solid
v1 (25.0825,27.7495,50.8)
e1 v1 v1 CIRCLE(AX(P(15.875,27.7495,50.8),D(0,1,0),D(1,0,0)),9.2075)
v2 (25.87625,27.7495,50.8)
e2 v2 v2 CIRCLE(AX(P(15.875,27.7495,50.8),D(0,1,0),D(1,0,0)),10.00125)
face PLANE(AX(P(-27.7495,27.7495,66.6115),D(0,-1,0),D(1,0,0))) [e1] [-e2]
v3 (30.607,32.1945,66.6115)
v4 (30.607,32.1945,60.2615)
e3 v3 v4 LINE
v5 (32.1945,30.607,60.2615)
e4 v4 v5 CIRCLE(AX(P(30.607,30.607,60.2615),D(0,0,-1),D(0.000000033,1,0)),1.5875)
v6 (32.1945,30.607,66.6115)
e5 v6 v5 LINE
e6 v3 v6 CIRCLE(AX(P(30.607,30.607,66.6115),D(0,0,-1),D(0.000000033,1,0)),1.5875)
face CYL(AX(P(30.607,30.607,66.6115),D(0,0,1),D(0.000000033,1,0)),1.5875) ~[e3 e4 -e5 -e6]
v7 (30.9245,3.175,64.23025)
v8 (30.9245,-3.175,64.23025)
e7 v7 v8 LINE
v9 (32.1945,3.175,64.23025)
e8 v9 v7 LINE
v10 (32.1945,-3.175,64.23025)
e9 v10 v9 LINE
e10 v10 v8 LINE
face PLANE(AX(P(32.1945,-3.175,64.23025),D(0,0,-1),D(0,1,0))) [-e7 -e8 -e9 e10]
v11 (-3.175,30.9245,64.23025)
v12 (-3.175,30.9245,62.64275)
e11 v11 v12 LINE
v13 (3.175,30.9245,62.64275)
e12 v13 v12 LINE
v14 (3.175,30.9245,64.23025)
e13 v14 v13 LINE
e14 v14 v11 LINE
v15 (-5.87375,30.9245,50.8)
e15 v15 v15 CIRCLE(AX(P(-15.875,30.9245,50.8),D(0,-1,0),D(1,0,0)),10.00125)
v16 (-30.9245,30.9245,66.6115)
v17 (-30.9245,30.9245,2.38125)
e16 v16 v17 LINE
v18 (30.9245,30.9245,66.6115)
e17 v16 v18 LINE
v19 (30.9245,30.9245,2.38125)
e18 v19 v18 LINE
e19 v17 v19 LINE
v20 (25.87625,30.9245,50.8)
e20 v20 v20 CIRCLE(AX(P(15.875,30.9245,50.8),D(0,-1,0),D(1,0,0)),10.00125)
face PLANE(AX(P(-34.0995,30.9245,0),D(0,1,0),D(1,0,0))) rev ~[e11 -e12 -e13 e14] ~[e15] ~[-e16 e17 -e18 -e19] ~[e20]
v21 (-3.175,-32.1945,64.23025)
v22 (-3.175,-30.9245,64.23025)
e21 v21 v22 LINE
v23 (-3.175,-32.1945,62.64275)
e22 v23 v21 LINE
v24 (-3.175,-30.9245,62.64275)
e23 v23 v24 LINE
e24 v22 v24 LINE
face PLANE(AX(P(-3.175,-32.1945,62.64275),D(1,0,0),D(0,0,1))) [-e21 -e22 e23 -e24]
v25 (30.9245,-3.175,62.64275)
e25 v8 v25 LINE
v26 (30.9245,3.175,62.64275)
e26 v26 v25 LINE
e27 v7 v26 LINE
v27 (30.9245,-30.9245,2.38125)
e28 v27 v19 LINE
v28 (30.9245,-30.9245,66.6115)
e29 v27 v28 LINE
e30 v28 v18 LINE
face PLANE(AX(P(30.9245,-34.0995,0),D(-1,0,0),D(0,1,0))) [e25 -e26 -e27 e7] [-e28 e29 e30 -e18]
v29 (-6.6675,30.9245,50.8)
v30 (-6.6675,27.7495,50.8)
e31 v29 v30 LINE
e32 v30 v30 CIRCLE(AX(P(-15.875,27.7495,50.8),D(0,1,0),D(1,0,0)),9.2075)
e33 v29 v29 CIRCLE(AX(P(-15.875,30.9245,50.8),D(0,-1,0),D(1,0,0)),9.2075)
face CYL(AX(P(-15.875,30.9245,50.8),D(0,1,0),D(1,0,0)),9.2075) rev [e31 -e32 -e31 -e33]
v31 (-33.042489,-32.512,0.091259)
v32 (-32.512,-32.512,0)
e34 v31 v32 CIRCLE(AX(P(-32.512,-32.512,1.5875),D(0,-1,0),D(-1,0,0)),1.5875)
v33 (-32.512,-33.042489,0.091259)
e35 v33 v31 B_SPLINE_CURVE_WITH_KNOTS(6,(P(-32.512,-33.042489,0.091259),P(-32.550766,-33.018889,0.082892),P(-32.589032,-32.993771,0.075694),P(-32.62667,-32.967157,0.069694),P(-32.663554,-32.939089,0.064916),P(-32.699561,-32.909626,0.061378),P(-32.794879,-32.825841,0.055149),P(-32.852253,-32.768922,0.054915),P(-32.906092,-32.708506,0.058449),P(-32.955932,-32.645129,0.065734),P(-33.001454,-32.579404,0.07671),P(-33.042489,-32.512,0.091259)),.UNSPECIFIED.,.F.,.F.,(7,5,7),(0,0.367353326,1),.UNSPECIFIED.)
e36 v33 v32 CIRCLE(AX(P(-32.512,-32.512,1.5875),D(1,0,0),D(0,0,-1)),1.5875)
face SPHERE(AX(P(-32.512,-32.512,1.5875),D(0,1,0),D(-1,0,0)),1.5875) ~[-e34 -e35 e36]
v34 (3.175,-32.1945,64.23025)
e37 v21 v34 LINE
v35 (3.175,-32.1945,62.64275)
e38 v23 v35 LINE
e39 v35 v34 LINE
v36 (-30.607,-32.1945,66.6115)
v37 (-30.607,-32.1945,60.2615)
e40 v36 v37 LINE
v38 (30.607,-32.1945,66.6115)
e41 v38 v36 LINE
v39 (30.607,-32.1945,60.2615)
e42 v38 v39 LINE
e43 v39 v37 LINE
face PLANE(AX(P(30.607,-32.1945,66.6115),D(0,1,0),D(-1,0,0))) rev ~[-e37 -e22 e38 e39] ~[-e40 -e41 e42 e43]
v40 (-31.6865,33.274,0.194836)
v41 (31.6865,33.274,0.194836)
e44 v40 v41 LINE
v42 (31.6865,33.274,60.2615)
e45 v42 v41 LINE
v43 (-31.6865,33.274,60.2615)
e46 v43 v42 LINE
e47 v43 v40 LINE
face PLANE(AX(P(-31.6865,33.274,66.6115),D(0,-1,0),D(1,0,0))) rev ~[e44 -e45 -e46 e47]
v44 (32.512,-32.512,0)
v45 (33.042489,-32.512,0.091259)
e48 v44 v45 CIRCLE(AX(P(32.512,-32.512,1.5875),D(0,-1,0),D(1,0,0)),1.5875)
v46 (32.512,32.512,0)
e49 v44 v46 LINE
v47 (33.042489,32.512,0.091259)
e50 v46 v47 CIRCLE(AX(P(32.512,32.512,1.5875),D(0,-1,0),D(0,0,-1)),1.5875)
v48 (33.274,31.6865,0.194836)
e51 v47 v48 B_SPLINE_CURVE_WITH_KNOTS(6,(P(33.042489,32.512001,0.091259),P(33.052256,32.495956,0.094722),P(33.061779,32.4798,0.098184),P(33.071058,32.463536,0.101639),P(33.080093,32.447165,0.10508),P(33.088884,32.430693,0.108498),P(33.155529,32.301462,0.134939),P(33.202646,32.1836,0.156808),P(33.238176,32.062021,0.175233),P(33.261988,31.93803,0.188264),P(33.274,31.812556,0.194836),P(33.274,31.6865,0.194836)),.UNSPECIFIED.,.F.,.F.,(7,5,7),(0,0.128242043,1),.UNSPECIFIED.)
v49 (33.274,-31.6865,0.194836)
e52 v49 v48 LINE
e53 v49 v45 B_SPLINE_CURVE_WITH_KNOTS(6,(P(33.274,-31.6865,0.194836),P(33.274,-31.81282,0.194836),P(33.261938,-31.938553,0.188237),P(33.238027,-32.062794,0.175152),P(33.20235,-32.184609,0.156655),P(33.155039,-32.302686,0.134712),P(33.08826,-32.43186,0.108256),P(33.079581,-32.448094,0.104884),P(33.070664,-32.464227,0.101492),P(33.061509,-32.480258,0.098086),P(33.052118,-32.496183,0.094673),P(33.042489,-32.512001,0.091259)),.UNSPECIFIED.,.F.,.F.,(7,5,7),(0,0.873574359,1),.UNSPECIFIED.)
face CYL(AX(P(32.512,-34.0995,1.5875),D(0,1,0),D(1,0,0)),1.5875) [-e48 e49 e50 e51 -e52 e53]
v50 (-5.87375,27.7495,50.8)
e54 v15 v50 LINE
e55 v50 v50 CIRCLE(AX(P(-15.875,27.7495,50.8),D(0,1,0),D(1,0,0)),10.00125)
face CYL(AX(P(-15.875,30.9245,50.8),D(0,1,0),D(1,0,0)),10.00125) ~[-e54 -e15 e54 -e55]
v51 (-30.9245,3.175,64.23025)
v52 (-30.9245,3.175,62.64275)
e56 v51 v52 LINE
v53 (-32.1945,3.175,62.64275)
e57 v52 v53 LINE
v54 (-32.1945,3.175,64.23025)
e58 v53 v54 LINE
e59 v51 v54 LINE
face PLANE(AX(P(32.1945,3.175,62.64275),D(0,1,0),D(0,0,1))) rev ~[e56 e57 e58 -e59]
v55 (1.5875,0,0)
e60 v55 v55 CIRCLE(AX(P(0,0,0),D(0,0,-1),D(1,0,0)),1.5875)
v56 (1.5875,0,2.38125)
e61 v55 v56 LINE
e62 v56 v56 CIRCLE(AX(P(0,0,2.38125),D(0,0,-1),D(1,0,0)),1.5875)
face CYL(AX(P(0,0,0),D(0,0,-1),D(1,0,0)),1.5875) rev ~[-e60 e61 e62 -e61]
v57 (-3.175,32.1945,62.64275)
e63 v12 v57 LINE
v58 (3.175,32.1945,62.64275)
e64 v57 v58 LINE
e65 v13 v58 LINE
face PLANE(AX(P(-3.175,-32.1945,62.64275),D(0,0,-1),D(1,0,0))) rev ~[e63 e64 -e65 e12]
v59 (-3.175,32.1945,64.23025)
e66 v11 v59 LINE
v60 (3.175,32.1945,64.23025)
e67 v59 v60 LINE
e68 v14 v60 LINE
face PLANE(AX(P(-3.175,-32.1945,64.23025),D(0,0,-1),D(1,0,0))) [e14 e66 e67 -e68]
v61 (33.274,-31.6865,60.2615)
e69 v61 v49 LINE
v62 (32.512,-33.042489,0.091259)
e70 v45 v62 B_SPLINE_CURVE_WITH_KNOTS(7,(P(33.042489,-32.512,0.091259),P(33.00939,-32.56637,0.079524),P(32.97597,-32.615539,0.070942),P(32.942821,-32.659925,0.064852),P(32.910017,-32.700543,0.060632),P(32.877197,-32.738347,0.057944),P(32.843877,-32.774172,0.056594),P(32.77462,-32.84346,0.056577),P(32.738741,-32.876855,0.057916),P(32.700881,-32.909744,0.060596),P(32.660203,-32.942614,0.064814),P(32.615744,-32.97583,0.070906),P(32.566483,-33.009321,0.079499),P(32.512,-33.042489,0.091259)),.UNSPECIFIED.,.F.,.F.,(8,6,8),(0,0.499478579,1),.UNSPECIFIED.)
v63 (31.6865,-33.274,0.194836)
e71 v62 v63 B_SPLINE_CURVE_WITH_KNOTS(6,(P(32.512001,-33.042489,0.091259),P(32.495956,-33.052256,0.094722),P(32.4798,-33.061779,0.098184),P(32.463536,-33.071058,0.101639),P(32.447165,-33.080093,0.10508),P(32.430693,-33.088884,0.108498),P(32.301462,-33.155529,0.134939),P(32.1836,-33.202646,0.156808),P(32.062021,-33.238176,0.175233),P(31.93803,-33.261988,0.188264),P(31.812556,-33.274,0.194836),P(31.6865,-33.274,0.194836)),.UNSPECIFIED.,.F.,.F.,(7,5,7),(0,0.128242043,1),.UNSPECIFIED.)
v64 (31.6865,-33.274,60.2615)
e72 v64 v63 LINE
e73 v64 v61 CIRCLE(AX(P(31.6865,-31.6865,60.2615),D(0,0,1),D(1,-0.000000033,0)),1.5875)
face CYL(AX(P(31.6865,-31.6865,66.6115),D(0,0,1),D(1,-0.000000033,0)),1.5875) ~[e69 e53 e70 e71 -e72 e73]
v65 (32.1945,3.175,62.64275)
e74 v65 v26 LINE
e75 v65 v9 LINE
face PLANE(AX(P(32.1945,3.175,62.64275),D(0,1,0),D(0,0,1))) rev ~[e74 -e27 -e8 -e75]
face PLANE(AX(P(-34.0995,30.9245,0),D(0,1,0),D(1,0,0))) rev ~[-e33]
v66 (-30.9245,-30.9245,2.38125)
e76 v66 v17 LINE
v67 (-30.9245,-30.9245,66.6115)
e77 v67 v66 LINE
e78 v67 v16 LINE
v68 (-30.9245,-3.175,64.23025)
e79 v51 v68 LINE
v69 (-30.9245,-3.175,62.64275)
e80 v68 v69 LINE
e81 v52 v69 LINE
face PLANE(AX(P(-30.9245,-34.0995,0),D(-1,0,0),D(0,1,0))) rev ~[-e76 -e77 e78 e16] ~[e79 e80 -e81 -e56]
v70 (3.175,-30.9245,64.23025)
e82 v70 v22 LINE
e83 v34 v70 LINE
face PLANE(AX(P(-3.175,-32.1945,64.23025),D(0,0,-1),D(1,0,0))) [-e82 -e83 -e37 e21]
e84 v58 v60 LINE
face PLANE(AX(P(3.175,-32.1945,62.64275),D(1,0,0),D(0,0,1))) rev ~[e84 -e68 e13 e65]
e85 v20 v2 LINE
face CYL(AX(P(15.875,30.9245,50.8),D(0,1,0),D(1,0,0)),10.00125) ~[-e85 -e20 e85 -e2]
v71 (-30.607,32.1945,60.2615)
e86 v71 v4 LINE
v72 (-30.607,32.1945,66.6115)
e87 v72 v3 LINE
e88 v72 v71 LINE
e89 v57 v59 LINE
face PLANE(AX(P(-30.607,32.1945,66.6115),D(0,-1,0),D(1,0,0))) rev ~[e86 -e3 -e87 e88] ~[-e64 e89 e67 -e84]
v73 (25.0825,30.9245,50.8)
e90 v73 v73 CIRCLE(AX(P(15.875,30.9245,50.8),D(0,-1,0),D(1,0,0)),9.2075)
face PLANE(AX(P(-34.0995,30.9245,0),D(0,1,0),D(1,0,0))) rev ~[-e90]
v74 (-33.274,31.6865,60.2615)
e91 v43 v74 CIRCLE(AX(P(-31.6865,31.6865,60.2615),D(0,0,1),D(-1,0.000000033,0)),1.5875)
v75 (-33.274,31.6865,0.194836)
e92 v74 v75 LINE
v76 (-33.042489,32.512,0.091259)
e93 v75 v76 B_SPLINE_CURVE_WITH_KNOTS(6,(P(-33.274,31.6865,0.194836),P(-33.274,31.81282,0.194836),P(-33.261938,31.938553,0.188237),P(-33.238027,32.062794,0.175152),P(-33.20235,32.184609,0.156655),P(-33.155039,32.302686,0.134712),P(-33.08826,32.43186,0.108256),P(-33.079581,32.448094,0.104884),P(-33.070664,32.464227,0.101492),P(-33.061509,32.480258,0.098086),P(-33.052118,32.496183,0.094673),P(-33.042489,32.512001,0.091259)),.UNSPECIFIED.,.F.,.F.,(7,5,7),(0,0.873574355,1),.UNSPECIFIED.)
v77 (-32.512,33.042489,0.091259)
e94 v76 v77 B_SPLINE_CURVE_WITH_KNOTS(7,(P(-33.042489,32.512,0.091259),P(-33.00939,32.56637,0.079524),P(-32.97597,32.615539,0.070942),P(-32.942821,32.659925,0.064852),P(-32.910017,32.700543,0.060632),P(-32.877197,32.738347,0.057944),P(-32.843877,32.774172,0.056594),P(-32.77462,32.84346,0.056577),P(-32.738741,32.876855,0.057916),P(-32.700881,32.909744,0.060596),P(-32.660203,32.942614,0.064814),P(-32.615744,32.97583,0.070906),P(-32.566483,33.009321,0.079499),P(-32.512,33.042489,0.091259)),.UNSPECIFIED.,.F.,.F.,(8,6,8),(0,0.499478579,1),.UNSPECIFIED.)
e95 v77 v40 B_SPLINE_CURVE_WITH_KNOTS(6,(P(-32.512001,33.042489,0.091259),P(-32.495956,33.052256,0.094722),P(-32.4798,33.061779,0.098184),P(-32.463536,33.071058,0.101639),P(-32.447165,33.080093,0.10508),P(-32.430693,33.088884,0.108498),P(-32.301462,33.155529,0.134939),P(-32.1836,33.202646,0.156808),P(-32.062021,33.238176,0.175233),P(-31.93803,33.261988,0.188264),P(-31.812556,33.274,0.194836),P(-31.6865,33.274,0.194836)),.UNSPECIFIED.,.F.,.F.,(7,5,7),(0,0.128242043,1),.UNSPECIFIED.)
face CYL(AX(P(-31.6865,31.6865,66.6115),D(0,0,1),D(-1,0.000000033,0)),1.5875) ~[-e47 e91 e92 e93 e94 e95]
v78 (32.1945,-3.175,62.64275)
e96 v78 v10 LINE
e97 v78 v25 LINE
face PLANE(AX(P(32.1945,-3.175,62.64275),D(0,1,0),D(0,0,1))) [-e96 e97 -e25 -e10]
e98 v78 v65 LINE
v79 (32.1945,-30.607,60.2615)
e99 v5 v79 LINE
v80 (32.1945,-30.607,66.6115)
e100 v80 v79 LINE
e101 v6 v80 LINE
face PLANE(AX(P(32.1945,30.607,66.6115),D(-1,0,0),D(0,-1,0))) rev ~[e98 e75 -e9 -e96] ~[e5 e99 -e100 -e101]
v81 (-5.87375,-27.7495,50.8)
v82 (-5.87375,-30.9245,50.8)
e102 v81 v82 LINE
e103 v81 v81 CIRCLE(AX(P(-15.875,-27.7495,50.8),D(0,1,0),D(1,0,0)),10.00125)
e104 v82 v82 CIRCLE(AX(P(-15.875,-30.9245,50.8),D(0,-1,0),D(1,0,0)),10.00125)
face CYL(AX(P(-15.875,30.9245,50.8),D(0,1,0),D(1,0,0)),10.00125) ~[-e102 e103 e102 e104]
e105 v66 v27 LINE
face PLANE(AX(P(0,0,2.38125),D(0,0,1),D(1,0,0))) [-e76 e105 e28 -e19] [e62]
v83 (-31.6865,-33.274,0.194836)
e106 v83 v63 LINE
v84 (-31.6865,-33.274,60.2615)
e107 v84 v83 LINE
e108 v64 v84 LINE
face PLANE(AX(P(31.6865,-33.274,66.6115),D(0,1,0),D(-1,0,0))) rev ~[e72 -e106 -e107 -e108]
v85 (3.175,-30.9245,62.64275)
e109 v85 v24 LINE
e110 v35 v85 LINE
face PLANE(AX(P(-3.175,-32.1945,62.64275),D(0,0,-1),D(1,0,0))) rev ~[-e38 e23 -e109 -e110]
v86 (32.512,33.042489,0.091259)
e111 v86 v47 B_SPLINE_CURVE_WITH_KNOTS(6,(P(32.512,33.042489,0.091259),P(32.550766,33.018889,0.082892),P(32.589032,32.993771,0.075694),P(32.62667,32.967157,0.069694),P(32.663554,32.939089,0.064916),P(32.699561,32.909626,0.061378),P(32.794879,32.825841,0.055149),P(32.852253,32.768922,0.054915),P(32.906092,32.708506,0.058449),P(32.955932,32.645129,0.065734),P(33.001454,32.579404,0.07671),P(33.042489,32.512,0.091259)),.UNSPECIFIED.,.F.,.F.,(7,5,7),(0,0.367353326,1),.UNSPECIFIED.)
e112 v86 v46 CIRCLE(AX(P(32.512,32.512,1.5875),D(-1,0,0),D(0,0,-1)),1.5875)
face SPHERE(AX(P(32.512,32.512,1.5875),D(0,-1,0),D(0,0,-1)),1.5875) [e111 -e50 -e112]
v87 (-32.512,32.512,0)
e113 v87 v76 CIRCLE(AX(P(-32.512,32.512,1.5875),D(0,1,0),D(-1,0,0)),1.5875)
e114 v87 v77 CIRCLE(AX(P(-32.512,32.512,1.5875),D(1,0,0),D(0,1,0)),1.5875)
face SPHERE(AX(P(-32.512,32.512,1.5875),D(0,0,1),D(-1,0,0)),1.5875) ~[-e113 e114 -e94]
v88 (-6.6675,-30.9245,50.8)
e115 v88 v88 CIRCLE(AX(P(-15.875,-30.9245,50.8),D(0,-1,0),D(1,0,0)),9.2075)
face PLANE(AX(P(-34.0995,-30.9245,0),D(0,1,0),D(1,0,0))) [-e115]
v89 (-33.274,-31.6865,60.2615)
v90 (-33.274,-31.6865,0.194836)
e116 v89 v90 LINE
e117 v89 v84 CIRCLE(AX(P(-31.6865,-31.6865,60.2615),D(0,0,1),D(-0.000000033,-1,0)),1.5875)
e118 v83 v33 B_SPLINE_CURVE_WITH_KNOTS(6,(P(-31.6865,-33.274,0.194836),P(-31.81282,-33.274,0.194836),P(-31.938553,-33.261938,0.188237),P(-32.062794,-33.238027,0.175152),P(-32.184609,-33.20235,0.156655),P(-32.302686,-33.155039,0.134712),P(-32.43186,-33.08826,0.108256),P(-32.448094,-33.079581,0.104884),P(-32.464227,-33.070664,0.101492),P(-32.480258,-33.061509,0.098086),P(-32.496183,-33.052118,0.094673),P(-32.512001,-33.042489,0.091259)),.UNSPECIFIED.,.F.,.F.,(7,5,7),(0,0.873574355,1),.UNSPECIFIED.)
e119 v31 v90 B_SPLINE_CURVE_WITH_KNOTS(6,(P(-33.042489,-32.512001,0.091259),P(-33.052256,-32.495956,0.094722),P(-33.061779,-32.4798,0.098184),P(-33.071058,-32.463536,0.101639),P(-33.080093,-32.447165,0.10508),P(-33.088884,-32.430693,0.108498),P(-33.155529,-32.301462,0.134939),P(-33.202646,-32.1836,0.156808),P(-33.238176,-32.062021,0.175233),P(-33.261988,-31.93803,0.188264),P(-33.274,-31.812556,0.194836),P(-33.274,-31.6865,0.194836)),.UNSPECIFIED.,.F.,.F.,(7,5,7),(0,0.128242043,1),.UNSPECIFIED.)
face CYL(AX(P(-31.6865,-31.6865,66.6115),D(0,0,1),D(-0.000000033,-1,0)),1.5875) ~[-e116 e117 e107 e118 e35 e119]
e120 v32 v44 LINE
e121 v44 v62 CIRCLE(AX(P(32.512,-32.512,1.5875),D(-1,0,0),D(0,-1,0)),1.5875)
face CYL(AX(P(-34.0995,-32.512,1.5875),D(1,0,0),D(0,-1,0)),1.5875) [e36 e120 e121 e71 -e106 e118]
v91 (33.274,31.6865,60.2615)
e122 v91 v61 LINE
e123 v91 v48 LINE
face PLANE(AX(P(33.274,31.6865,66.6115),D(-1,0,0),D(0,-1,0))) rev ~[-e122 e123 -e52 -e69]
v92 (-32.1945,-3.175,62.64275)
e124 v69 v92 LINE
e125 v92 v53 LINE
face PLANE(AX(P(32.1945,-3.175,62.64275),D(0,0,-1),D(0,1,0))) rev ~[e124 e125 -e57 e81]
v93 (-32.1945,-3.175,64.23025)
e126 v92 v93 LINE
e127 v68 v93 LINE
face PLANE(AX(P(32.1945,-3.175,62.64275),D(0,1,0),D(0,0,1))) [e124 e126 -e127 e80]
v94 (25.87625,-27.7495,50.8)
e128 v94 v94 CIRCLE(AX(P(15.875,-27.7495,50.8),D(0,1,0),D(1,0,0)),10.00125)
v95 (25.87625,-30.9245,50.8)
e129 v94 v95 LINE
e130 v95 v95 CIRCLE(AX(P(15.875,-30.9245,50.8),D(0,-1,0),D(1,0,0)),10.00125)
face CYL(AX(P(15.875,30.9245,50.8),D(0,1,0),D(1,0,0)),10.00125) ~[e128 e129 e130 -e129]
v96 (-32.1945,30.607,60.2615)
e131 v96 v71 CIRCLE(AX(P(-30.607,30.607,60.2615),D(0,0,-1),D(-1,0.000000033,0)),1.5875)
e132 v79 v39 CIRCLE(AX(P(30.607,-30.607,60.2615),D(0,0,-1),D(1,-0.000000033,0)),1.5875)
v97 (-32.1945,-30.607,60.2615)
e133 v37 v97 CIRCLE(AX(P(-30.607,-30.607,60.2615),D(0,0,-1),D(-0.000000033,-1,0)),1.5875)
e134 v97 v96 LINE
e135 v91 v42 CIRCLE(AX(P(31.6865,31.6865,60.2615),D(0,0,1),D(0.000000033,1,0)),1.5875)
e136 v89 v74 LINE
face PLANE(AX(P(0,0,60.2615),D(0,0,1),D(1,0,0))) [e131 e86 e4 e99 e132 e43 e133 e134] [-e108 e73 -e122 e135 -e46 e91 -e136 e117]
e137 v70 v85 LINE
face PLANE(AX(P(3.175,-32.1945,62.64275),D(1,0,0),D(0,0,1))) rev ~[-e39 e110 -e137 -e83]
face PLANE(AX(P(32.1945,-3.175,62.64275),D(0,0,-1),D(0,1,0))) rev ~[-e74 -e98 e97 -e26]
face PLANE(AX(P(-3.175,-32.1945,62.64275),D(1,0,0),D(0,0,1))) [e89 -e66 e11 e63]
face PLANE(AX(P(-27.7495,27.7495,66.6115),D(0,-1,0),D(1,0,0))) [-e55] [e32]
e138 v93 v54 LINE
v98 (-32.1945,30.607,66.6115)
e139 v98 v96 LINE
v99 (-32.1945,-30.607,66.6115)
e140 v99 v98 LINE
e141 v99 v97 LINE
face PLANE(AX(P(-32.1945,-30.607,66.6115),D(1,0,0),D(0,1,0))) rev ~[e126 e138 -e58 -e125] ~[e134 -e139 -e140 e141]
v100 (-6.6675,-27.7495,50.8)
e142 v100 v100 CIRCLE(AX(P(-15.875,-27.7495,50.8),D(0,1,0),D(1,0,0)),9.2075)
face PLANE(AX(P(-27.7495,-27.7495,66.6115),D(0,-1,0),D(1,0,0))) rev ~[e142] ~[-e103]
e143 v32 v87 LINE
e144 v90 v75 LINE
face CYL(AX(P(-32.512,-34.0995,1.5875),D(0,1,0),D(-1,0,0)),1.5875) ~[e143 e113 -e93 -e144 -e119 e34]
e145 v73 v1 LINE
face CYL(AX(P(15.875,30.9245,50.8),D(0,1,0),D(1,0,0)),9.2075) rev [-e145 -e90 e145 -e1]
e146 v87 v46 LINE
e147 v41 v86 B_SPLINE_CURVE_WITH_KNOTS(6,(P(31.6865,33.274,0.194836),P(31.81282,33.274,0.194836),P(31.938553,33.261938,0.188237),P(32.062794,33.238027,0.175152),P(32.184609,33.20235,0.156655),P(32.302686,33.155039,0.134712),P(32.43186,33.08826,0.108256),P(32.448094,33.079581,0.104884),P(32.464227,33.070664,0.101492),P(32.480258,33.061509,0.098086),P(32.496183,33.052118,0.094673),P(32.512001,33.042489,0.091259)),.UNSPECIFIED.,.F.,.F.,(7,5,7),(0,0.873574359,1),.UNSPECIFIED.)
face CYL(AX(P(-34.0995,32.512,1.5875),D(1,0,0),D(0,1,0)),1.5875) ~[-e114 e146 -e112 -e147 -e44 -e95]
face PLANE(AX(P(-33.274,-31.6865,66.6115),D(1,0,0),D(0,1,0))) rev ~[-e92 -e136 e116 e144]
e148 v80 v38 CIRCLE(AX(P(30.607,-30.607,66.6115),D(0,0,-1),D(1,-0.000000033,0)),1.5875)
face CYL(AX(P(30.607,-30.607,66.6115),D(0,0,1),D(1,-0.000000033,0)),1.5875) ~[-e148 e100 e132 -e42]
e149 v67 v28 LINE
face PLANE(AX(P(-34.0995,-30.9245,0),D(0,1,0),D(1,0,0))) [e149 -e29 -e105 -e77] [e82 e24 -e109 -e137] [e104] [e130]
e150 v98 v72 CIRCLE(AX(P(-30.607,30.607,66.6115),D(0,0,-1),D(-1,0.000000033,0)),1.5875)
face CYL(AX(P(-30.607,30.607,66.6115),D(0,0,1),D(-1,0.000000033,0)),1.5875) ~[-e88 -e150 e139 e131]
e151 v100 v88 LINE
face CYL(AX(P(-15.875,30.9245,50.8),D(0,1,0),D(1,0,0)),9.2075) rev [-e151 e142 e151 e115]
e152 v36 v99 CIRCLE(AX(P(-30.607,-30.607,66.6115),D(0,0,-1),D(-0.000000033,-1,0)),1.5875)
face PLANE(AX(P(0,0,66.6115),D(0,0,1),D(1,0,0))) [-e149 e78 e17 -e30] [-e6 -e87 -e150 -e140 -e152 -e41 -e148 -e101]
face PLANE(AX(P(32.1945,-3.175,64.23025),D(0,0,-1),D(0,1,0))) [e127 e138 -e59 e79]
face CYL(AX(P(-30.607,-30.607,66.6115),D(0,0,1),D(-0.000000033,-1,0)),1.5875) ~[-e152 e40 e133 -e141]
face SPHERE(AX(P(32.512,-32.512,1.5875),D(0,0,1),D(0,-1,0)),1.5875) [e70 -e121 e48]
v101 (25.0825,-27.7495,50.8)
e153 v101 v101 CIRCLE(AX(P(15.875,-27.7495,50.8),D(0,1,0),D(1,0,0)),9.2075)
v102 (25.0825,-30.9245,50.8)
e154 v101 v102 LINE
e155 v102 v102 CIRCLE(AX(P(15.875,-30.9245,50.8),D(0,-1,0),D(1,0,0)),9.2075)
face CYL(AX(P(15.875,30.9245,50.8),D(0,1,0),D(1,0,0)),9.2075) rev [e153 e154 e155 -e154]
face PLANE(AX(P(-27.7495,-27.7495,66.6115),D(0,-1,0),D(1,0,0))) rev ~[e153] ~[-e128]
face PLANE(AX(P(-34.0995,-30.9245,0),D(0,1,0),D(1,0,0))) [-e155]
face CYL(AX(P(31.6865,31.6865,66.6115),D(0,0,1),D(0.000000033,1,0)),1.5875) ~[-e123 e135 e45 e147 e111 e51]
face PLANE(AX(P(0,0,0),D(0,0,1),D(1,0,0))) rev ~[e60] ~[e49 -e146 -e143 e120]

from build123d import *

# Parameters (mm, degrees)
F0_W      = 68.199
F0_H      = 68.199
F1_DEPTH  = 66.6115
F2_R      = 1.5875
F3_T      = -3.175
F4_W      = 3.175
F4_H      = 3.175
F4_W_2    = 6.35
F4_H_2    = 6.35
F5_DEPTH  = 25.4
F6_R      = 1.5875
F7_DEPTH  = 6.35
F8_W      = 74.20966
F8_H      = 75.78341
F9_DEPTH  = 6.35
F10_W     = 6.35
F10_H     = 1.5875
F11_DEPTH = 66.295
F12_W     = 6.35
F12_H     = 1.5875
F13_DEPTH = 66.295
F14_R     = 10.00125
F14_R_2   = 9.2075
F15_DEPTH = 61.849
F16_W     = 55.499
F16_H     = 55.499
F17_DEPTH = 38.1
F18_W     = 61.849
F18_H     = 61.849
F19_DEPTH = 0.79375
F20_W     = 68.199
F20_H     = 68.199
F21_DEPTH = 66.6125


with BuildPart() as f1:
    # F0 (on Top) → F1 (new body)
    with BuildSketch(Plane.XY):
        Rectangle(F0_W, F0_H)
    extrude(amount=F1_DEPTH)

    # F2
    f2_edges = [f1.edges().sort_by_distance(p)[0] for p in [
        (-34.0995, 34.0995, 33.30575),
        (-34.0995, 0, 0),
        (-34.0995, -34.0995, 33.30575),
        (34.0995, -34.0995, 33.30575),
        (0, -34.0995, 0),
        (34.0995, 0, 0),
        (0, 34.0995, 0),
        (34.0995, 34.0995, 33.30575),
    ]]
    fillet(f2_edges, radius=F2_R)

    # F3
    f3_openings = [f1.faces().sort_by_distance(p)[0] for p in [
        (0, 0, 66.6115),
    ]]
    offset(amount=F3_T, openings=f3_openings)

    # F4 (on face) → F5 (cut)
    with BuildSketch(Plane.XY.offset(3.175)):
        with Locations((-29.337, 29.337)):
            Rectangle(F4_W, F4_H)
        with Locations((29.337, 29.337)):
            Rectangle(F4_W, F4_H)
        with Locations((-29.337, -29.337)):
            Rectangle(F4_W, F4_H)
        with Locations((29.337, -29.337)):
            Rectangle(F4_W, F4_H)
        with Locations((0, 29.337)):
            Rectangle(F4_W_2, F4_H)
        with Locations((-29.337, 0)):
            Rectangle(F4_W, F4_H_2)
        with Locations((29.337, 0)):
            Rectangle(F4_W, F4_H_2)
        with Locations((0, -29.337)):
            Rectangle(F4_W_2, F4_H)
    extrude(amount=F5_DEPTH, mode=Mode.SUBTRACT)

    # F6 (on face) → F7 (cut)
    with BuildSketch(Plane(origin=(0, 0, 0), x_dir=(1, 0, 0), z_dir=(0, 0, -1))):
        Circle(F6_R)
    extrude(amount=-F7_DEPTH, mode=Mode.SUBTRACT)

    # F8 (on face) → F9 (cut)
    with BuildSketch(Plane.XY.offset(66.6115)):
        Rectangle(F8_W, F8_H)
        with BuildLine():
            Line((-30.607, 32.1945), (30.607, 32.1945))
            ThreePointArc((30.607, 32.1945), (31.729532, 31.729532), (32.1945, 30.607))
            Line((32.1945, 30.607), (32.1945, -30.607))
            ThreePointArc((32.1945, -30.607), (31.729532, -31.729532), (30.607, -32.1945))
            Line((30.607, -32.1945), (-30.607, -32.1945))
            ThreePointArc((-30.607, -32.1945), (-31.729532, -31.729532), (-32.1945, -30.607))
            Line((-32.1945, -30.607), (-32.1945, 30.607))
            ThreePointArc((-32.1945, 30.607), (-31.729532, 31.729532), (-30.607, 32.1945))
        make_face(mode=Mode.SUBTRACT)
    extrude(amount=-F9_DEPTH, mode=Mode.SUBTRACT)

    # F10 (on face) → F11 (cut, through all)
    with BuildSketch(Plane.XZ.offset(32.1945)):
        with Locations((0, 63.4365)):
            Rectangle(F10_W, F10_H)
    extrude(amount=-F11_DEPTH, mode=Mode.SUBTRACT)

    # F12 (on face) → F13 (cut, through all)
    with BuildSketch(Plane.YZ.offset(32.1945)):
        with Locations((0, 63.4365)):
            Rectangle(F12_W, F12_H)
    extrude(amount=-F13_DEPTH, mode=Mode.SUBTRACT)

    # F14 (on face) → F15 (join, through all)
    with BuildSketch(Plane.XZ.offset(-30.9245)):
        with Locations((-15.875, 50.8)):
            Circle(F14_R)
        with Locations((-15.875, 50.8)):
            Circle(F14_R_2, mode=Mode.SUBTRACT)
        with Locations((15.875, 50.8)):
            Circle(F14_R)
        with Locations((15.875, 50.8)):
            Circle(F14_R_2, mode=Mode.SUBTRACT)
    extrude(amount=F15_DEPTH)

    # F16 (on face) → F17 (cut)
    with BuildSketch(Plane.XY.offset(66.6115)):
        Rectangle(F16_W, F16_H)
    extrude(amount=-F17_DEPTH, mode=Mode.SUBTRACT)

    # F18 (on face) → F19 (cut)
    with BuildSketch(Plane.XY.offset(3.175)):
        Rectangle(F18_W, F18_H)
    extrude(amount=-F19_DEPTH, mode=Mode.SUBTRACT)

    # F20 (on face) → F21 (cut, through all)
    with BuildSketch(Plane.XY.offset(66.6115)):
        Rectangle(F20_W, F20_H)
        with BuildLine():
            Line((-31.6865, 33.274), (31.6865, 33.274))
            ThreePointArc((31.6865, 33.274), (32.809032, 32.809032), (33.274, 31.6865))
            Line((33.274, 31.6865), (33.274, -31.6865))
            ThreePointArc((33.274, -31.6865), (32.809032, -32.809032), (31.6865, -33.274))
            Line((31.6865, -33.274), (-31.6865, -33.274))
            ThreePointArc((-31.6865, -33.274), (-32.809032, -32.809032), (-33.274, -31.6865))
            Line((-33.274, -31.6865), (-33.274, 31.6865))
            ThreePointArc((-33.274, 31.6865), (-32.809032, 32.809032), (-31.6865, 33.274))
        make_face(mode=Mode.SUBTRACT)
    extrude(amount=-F21_DEPTH, mode=Mode.SUBTRACT)


solid = f1.part
